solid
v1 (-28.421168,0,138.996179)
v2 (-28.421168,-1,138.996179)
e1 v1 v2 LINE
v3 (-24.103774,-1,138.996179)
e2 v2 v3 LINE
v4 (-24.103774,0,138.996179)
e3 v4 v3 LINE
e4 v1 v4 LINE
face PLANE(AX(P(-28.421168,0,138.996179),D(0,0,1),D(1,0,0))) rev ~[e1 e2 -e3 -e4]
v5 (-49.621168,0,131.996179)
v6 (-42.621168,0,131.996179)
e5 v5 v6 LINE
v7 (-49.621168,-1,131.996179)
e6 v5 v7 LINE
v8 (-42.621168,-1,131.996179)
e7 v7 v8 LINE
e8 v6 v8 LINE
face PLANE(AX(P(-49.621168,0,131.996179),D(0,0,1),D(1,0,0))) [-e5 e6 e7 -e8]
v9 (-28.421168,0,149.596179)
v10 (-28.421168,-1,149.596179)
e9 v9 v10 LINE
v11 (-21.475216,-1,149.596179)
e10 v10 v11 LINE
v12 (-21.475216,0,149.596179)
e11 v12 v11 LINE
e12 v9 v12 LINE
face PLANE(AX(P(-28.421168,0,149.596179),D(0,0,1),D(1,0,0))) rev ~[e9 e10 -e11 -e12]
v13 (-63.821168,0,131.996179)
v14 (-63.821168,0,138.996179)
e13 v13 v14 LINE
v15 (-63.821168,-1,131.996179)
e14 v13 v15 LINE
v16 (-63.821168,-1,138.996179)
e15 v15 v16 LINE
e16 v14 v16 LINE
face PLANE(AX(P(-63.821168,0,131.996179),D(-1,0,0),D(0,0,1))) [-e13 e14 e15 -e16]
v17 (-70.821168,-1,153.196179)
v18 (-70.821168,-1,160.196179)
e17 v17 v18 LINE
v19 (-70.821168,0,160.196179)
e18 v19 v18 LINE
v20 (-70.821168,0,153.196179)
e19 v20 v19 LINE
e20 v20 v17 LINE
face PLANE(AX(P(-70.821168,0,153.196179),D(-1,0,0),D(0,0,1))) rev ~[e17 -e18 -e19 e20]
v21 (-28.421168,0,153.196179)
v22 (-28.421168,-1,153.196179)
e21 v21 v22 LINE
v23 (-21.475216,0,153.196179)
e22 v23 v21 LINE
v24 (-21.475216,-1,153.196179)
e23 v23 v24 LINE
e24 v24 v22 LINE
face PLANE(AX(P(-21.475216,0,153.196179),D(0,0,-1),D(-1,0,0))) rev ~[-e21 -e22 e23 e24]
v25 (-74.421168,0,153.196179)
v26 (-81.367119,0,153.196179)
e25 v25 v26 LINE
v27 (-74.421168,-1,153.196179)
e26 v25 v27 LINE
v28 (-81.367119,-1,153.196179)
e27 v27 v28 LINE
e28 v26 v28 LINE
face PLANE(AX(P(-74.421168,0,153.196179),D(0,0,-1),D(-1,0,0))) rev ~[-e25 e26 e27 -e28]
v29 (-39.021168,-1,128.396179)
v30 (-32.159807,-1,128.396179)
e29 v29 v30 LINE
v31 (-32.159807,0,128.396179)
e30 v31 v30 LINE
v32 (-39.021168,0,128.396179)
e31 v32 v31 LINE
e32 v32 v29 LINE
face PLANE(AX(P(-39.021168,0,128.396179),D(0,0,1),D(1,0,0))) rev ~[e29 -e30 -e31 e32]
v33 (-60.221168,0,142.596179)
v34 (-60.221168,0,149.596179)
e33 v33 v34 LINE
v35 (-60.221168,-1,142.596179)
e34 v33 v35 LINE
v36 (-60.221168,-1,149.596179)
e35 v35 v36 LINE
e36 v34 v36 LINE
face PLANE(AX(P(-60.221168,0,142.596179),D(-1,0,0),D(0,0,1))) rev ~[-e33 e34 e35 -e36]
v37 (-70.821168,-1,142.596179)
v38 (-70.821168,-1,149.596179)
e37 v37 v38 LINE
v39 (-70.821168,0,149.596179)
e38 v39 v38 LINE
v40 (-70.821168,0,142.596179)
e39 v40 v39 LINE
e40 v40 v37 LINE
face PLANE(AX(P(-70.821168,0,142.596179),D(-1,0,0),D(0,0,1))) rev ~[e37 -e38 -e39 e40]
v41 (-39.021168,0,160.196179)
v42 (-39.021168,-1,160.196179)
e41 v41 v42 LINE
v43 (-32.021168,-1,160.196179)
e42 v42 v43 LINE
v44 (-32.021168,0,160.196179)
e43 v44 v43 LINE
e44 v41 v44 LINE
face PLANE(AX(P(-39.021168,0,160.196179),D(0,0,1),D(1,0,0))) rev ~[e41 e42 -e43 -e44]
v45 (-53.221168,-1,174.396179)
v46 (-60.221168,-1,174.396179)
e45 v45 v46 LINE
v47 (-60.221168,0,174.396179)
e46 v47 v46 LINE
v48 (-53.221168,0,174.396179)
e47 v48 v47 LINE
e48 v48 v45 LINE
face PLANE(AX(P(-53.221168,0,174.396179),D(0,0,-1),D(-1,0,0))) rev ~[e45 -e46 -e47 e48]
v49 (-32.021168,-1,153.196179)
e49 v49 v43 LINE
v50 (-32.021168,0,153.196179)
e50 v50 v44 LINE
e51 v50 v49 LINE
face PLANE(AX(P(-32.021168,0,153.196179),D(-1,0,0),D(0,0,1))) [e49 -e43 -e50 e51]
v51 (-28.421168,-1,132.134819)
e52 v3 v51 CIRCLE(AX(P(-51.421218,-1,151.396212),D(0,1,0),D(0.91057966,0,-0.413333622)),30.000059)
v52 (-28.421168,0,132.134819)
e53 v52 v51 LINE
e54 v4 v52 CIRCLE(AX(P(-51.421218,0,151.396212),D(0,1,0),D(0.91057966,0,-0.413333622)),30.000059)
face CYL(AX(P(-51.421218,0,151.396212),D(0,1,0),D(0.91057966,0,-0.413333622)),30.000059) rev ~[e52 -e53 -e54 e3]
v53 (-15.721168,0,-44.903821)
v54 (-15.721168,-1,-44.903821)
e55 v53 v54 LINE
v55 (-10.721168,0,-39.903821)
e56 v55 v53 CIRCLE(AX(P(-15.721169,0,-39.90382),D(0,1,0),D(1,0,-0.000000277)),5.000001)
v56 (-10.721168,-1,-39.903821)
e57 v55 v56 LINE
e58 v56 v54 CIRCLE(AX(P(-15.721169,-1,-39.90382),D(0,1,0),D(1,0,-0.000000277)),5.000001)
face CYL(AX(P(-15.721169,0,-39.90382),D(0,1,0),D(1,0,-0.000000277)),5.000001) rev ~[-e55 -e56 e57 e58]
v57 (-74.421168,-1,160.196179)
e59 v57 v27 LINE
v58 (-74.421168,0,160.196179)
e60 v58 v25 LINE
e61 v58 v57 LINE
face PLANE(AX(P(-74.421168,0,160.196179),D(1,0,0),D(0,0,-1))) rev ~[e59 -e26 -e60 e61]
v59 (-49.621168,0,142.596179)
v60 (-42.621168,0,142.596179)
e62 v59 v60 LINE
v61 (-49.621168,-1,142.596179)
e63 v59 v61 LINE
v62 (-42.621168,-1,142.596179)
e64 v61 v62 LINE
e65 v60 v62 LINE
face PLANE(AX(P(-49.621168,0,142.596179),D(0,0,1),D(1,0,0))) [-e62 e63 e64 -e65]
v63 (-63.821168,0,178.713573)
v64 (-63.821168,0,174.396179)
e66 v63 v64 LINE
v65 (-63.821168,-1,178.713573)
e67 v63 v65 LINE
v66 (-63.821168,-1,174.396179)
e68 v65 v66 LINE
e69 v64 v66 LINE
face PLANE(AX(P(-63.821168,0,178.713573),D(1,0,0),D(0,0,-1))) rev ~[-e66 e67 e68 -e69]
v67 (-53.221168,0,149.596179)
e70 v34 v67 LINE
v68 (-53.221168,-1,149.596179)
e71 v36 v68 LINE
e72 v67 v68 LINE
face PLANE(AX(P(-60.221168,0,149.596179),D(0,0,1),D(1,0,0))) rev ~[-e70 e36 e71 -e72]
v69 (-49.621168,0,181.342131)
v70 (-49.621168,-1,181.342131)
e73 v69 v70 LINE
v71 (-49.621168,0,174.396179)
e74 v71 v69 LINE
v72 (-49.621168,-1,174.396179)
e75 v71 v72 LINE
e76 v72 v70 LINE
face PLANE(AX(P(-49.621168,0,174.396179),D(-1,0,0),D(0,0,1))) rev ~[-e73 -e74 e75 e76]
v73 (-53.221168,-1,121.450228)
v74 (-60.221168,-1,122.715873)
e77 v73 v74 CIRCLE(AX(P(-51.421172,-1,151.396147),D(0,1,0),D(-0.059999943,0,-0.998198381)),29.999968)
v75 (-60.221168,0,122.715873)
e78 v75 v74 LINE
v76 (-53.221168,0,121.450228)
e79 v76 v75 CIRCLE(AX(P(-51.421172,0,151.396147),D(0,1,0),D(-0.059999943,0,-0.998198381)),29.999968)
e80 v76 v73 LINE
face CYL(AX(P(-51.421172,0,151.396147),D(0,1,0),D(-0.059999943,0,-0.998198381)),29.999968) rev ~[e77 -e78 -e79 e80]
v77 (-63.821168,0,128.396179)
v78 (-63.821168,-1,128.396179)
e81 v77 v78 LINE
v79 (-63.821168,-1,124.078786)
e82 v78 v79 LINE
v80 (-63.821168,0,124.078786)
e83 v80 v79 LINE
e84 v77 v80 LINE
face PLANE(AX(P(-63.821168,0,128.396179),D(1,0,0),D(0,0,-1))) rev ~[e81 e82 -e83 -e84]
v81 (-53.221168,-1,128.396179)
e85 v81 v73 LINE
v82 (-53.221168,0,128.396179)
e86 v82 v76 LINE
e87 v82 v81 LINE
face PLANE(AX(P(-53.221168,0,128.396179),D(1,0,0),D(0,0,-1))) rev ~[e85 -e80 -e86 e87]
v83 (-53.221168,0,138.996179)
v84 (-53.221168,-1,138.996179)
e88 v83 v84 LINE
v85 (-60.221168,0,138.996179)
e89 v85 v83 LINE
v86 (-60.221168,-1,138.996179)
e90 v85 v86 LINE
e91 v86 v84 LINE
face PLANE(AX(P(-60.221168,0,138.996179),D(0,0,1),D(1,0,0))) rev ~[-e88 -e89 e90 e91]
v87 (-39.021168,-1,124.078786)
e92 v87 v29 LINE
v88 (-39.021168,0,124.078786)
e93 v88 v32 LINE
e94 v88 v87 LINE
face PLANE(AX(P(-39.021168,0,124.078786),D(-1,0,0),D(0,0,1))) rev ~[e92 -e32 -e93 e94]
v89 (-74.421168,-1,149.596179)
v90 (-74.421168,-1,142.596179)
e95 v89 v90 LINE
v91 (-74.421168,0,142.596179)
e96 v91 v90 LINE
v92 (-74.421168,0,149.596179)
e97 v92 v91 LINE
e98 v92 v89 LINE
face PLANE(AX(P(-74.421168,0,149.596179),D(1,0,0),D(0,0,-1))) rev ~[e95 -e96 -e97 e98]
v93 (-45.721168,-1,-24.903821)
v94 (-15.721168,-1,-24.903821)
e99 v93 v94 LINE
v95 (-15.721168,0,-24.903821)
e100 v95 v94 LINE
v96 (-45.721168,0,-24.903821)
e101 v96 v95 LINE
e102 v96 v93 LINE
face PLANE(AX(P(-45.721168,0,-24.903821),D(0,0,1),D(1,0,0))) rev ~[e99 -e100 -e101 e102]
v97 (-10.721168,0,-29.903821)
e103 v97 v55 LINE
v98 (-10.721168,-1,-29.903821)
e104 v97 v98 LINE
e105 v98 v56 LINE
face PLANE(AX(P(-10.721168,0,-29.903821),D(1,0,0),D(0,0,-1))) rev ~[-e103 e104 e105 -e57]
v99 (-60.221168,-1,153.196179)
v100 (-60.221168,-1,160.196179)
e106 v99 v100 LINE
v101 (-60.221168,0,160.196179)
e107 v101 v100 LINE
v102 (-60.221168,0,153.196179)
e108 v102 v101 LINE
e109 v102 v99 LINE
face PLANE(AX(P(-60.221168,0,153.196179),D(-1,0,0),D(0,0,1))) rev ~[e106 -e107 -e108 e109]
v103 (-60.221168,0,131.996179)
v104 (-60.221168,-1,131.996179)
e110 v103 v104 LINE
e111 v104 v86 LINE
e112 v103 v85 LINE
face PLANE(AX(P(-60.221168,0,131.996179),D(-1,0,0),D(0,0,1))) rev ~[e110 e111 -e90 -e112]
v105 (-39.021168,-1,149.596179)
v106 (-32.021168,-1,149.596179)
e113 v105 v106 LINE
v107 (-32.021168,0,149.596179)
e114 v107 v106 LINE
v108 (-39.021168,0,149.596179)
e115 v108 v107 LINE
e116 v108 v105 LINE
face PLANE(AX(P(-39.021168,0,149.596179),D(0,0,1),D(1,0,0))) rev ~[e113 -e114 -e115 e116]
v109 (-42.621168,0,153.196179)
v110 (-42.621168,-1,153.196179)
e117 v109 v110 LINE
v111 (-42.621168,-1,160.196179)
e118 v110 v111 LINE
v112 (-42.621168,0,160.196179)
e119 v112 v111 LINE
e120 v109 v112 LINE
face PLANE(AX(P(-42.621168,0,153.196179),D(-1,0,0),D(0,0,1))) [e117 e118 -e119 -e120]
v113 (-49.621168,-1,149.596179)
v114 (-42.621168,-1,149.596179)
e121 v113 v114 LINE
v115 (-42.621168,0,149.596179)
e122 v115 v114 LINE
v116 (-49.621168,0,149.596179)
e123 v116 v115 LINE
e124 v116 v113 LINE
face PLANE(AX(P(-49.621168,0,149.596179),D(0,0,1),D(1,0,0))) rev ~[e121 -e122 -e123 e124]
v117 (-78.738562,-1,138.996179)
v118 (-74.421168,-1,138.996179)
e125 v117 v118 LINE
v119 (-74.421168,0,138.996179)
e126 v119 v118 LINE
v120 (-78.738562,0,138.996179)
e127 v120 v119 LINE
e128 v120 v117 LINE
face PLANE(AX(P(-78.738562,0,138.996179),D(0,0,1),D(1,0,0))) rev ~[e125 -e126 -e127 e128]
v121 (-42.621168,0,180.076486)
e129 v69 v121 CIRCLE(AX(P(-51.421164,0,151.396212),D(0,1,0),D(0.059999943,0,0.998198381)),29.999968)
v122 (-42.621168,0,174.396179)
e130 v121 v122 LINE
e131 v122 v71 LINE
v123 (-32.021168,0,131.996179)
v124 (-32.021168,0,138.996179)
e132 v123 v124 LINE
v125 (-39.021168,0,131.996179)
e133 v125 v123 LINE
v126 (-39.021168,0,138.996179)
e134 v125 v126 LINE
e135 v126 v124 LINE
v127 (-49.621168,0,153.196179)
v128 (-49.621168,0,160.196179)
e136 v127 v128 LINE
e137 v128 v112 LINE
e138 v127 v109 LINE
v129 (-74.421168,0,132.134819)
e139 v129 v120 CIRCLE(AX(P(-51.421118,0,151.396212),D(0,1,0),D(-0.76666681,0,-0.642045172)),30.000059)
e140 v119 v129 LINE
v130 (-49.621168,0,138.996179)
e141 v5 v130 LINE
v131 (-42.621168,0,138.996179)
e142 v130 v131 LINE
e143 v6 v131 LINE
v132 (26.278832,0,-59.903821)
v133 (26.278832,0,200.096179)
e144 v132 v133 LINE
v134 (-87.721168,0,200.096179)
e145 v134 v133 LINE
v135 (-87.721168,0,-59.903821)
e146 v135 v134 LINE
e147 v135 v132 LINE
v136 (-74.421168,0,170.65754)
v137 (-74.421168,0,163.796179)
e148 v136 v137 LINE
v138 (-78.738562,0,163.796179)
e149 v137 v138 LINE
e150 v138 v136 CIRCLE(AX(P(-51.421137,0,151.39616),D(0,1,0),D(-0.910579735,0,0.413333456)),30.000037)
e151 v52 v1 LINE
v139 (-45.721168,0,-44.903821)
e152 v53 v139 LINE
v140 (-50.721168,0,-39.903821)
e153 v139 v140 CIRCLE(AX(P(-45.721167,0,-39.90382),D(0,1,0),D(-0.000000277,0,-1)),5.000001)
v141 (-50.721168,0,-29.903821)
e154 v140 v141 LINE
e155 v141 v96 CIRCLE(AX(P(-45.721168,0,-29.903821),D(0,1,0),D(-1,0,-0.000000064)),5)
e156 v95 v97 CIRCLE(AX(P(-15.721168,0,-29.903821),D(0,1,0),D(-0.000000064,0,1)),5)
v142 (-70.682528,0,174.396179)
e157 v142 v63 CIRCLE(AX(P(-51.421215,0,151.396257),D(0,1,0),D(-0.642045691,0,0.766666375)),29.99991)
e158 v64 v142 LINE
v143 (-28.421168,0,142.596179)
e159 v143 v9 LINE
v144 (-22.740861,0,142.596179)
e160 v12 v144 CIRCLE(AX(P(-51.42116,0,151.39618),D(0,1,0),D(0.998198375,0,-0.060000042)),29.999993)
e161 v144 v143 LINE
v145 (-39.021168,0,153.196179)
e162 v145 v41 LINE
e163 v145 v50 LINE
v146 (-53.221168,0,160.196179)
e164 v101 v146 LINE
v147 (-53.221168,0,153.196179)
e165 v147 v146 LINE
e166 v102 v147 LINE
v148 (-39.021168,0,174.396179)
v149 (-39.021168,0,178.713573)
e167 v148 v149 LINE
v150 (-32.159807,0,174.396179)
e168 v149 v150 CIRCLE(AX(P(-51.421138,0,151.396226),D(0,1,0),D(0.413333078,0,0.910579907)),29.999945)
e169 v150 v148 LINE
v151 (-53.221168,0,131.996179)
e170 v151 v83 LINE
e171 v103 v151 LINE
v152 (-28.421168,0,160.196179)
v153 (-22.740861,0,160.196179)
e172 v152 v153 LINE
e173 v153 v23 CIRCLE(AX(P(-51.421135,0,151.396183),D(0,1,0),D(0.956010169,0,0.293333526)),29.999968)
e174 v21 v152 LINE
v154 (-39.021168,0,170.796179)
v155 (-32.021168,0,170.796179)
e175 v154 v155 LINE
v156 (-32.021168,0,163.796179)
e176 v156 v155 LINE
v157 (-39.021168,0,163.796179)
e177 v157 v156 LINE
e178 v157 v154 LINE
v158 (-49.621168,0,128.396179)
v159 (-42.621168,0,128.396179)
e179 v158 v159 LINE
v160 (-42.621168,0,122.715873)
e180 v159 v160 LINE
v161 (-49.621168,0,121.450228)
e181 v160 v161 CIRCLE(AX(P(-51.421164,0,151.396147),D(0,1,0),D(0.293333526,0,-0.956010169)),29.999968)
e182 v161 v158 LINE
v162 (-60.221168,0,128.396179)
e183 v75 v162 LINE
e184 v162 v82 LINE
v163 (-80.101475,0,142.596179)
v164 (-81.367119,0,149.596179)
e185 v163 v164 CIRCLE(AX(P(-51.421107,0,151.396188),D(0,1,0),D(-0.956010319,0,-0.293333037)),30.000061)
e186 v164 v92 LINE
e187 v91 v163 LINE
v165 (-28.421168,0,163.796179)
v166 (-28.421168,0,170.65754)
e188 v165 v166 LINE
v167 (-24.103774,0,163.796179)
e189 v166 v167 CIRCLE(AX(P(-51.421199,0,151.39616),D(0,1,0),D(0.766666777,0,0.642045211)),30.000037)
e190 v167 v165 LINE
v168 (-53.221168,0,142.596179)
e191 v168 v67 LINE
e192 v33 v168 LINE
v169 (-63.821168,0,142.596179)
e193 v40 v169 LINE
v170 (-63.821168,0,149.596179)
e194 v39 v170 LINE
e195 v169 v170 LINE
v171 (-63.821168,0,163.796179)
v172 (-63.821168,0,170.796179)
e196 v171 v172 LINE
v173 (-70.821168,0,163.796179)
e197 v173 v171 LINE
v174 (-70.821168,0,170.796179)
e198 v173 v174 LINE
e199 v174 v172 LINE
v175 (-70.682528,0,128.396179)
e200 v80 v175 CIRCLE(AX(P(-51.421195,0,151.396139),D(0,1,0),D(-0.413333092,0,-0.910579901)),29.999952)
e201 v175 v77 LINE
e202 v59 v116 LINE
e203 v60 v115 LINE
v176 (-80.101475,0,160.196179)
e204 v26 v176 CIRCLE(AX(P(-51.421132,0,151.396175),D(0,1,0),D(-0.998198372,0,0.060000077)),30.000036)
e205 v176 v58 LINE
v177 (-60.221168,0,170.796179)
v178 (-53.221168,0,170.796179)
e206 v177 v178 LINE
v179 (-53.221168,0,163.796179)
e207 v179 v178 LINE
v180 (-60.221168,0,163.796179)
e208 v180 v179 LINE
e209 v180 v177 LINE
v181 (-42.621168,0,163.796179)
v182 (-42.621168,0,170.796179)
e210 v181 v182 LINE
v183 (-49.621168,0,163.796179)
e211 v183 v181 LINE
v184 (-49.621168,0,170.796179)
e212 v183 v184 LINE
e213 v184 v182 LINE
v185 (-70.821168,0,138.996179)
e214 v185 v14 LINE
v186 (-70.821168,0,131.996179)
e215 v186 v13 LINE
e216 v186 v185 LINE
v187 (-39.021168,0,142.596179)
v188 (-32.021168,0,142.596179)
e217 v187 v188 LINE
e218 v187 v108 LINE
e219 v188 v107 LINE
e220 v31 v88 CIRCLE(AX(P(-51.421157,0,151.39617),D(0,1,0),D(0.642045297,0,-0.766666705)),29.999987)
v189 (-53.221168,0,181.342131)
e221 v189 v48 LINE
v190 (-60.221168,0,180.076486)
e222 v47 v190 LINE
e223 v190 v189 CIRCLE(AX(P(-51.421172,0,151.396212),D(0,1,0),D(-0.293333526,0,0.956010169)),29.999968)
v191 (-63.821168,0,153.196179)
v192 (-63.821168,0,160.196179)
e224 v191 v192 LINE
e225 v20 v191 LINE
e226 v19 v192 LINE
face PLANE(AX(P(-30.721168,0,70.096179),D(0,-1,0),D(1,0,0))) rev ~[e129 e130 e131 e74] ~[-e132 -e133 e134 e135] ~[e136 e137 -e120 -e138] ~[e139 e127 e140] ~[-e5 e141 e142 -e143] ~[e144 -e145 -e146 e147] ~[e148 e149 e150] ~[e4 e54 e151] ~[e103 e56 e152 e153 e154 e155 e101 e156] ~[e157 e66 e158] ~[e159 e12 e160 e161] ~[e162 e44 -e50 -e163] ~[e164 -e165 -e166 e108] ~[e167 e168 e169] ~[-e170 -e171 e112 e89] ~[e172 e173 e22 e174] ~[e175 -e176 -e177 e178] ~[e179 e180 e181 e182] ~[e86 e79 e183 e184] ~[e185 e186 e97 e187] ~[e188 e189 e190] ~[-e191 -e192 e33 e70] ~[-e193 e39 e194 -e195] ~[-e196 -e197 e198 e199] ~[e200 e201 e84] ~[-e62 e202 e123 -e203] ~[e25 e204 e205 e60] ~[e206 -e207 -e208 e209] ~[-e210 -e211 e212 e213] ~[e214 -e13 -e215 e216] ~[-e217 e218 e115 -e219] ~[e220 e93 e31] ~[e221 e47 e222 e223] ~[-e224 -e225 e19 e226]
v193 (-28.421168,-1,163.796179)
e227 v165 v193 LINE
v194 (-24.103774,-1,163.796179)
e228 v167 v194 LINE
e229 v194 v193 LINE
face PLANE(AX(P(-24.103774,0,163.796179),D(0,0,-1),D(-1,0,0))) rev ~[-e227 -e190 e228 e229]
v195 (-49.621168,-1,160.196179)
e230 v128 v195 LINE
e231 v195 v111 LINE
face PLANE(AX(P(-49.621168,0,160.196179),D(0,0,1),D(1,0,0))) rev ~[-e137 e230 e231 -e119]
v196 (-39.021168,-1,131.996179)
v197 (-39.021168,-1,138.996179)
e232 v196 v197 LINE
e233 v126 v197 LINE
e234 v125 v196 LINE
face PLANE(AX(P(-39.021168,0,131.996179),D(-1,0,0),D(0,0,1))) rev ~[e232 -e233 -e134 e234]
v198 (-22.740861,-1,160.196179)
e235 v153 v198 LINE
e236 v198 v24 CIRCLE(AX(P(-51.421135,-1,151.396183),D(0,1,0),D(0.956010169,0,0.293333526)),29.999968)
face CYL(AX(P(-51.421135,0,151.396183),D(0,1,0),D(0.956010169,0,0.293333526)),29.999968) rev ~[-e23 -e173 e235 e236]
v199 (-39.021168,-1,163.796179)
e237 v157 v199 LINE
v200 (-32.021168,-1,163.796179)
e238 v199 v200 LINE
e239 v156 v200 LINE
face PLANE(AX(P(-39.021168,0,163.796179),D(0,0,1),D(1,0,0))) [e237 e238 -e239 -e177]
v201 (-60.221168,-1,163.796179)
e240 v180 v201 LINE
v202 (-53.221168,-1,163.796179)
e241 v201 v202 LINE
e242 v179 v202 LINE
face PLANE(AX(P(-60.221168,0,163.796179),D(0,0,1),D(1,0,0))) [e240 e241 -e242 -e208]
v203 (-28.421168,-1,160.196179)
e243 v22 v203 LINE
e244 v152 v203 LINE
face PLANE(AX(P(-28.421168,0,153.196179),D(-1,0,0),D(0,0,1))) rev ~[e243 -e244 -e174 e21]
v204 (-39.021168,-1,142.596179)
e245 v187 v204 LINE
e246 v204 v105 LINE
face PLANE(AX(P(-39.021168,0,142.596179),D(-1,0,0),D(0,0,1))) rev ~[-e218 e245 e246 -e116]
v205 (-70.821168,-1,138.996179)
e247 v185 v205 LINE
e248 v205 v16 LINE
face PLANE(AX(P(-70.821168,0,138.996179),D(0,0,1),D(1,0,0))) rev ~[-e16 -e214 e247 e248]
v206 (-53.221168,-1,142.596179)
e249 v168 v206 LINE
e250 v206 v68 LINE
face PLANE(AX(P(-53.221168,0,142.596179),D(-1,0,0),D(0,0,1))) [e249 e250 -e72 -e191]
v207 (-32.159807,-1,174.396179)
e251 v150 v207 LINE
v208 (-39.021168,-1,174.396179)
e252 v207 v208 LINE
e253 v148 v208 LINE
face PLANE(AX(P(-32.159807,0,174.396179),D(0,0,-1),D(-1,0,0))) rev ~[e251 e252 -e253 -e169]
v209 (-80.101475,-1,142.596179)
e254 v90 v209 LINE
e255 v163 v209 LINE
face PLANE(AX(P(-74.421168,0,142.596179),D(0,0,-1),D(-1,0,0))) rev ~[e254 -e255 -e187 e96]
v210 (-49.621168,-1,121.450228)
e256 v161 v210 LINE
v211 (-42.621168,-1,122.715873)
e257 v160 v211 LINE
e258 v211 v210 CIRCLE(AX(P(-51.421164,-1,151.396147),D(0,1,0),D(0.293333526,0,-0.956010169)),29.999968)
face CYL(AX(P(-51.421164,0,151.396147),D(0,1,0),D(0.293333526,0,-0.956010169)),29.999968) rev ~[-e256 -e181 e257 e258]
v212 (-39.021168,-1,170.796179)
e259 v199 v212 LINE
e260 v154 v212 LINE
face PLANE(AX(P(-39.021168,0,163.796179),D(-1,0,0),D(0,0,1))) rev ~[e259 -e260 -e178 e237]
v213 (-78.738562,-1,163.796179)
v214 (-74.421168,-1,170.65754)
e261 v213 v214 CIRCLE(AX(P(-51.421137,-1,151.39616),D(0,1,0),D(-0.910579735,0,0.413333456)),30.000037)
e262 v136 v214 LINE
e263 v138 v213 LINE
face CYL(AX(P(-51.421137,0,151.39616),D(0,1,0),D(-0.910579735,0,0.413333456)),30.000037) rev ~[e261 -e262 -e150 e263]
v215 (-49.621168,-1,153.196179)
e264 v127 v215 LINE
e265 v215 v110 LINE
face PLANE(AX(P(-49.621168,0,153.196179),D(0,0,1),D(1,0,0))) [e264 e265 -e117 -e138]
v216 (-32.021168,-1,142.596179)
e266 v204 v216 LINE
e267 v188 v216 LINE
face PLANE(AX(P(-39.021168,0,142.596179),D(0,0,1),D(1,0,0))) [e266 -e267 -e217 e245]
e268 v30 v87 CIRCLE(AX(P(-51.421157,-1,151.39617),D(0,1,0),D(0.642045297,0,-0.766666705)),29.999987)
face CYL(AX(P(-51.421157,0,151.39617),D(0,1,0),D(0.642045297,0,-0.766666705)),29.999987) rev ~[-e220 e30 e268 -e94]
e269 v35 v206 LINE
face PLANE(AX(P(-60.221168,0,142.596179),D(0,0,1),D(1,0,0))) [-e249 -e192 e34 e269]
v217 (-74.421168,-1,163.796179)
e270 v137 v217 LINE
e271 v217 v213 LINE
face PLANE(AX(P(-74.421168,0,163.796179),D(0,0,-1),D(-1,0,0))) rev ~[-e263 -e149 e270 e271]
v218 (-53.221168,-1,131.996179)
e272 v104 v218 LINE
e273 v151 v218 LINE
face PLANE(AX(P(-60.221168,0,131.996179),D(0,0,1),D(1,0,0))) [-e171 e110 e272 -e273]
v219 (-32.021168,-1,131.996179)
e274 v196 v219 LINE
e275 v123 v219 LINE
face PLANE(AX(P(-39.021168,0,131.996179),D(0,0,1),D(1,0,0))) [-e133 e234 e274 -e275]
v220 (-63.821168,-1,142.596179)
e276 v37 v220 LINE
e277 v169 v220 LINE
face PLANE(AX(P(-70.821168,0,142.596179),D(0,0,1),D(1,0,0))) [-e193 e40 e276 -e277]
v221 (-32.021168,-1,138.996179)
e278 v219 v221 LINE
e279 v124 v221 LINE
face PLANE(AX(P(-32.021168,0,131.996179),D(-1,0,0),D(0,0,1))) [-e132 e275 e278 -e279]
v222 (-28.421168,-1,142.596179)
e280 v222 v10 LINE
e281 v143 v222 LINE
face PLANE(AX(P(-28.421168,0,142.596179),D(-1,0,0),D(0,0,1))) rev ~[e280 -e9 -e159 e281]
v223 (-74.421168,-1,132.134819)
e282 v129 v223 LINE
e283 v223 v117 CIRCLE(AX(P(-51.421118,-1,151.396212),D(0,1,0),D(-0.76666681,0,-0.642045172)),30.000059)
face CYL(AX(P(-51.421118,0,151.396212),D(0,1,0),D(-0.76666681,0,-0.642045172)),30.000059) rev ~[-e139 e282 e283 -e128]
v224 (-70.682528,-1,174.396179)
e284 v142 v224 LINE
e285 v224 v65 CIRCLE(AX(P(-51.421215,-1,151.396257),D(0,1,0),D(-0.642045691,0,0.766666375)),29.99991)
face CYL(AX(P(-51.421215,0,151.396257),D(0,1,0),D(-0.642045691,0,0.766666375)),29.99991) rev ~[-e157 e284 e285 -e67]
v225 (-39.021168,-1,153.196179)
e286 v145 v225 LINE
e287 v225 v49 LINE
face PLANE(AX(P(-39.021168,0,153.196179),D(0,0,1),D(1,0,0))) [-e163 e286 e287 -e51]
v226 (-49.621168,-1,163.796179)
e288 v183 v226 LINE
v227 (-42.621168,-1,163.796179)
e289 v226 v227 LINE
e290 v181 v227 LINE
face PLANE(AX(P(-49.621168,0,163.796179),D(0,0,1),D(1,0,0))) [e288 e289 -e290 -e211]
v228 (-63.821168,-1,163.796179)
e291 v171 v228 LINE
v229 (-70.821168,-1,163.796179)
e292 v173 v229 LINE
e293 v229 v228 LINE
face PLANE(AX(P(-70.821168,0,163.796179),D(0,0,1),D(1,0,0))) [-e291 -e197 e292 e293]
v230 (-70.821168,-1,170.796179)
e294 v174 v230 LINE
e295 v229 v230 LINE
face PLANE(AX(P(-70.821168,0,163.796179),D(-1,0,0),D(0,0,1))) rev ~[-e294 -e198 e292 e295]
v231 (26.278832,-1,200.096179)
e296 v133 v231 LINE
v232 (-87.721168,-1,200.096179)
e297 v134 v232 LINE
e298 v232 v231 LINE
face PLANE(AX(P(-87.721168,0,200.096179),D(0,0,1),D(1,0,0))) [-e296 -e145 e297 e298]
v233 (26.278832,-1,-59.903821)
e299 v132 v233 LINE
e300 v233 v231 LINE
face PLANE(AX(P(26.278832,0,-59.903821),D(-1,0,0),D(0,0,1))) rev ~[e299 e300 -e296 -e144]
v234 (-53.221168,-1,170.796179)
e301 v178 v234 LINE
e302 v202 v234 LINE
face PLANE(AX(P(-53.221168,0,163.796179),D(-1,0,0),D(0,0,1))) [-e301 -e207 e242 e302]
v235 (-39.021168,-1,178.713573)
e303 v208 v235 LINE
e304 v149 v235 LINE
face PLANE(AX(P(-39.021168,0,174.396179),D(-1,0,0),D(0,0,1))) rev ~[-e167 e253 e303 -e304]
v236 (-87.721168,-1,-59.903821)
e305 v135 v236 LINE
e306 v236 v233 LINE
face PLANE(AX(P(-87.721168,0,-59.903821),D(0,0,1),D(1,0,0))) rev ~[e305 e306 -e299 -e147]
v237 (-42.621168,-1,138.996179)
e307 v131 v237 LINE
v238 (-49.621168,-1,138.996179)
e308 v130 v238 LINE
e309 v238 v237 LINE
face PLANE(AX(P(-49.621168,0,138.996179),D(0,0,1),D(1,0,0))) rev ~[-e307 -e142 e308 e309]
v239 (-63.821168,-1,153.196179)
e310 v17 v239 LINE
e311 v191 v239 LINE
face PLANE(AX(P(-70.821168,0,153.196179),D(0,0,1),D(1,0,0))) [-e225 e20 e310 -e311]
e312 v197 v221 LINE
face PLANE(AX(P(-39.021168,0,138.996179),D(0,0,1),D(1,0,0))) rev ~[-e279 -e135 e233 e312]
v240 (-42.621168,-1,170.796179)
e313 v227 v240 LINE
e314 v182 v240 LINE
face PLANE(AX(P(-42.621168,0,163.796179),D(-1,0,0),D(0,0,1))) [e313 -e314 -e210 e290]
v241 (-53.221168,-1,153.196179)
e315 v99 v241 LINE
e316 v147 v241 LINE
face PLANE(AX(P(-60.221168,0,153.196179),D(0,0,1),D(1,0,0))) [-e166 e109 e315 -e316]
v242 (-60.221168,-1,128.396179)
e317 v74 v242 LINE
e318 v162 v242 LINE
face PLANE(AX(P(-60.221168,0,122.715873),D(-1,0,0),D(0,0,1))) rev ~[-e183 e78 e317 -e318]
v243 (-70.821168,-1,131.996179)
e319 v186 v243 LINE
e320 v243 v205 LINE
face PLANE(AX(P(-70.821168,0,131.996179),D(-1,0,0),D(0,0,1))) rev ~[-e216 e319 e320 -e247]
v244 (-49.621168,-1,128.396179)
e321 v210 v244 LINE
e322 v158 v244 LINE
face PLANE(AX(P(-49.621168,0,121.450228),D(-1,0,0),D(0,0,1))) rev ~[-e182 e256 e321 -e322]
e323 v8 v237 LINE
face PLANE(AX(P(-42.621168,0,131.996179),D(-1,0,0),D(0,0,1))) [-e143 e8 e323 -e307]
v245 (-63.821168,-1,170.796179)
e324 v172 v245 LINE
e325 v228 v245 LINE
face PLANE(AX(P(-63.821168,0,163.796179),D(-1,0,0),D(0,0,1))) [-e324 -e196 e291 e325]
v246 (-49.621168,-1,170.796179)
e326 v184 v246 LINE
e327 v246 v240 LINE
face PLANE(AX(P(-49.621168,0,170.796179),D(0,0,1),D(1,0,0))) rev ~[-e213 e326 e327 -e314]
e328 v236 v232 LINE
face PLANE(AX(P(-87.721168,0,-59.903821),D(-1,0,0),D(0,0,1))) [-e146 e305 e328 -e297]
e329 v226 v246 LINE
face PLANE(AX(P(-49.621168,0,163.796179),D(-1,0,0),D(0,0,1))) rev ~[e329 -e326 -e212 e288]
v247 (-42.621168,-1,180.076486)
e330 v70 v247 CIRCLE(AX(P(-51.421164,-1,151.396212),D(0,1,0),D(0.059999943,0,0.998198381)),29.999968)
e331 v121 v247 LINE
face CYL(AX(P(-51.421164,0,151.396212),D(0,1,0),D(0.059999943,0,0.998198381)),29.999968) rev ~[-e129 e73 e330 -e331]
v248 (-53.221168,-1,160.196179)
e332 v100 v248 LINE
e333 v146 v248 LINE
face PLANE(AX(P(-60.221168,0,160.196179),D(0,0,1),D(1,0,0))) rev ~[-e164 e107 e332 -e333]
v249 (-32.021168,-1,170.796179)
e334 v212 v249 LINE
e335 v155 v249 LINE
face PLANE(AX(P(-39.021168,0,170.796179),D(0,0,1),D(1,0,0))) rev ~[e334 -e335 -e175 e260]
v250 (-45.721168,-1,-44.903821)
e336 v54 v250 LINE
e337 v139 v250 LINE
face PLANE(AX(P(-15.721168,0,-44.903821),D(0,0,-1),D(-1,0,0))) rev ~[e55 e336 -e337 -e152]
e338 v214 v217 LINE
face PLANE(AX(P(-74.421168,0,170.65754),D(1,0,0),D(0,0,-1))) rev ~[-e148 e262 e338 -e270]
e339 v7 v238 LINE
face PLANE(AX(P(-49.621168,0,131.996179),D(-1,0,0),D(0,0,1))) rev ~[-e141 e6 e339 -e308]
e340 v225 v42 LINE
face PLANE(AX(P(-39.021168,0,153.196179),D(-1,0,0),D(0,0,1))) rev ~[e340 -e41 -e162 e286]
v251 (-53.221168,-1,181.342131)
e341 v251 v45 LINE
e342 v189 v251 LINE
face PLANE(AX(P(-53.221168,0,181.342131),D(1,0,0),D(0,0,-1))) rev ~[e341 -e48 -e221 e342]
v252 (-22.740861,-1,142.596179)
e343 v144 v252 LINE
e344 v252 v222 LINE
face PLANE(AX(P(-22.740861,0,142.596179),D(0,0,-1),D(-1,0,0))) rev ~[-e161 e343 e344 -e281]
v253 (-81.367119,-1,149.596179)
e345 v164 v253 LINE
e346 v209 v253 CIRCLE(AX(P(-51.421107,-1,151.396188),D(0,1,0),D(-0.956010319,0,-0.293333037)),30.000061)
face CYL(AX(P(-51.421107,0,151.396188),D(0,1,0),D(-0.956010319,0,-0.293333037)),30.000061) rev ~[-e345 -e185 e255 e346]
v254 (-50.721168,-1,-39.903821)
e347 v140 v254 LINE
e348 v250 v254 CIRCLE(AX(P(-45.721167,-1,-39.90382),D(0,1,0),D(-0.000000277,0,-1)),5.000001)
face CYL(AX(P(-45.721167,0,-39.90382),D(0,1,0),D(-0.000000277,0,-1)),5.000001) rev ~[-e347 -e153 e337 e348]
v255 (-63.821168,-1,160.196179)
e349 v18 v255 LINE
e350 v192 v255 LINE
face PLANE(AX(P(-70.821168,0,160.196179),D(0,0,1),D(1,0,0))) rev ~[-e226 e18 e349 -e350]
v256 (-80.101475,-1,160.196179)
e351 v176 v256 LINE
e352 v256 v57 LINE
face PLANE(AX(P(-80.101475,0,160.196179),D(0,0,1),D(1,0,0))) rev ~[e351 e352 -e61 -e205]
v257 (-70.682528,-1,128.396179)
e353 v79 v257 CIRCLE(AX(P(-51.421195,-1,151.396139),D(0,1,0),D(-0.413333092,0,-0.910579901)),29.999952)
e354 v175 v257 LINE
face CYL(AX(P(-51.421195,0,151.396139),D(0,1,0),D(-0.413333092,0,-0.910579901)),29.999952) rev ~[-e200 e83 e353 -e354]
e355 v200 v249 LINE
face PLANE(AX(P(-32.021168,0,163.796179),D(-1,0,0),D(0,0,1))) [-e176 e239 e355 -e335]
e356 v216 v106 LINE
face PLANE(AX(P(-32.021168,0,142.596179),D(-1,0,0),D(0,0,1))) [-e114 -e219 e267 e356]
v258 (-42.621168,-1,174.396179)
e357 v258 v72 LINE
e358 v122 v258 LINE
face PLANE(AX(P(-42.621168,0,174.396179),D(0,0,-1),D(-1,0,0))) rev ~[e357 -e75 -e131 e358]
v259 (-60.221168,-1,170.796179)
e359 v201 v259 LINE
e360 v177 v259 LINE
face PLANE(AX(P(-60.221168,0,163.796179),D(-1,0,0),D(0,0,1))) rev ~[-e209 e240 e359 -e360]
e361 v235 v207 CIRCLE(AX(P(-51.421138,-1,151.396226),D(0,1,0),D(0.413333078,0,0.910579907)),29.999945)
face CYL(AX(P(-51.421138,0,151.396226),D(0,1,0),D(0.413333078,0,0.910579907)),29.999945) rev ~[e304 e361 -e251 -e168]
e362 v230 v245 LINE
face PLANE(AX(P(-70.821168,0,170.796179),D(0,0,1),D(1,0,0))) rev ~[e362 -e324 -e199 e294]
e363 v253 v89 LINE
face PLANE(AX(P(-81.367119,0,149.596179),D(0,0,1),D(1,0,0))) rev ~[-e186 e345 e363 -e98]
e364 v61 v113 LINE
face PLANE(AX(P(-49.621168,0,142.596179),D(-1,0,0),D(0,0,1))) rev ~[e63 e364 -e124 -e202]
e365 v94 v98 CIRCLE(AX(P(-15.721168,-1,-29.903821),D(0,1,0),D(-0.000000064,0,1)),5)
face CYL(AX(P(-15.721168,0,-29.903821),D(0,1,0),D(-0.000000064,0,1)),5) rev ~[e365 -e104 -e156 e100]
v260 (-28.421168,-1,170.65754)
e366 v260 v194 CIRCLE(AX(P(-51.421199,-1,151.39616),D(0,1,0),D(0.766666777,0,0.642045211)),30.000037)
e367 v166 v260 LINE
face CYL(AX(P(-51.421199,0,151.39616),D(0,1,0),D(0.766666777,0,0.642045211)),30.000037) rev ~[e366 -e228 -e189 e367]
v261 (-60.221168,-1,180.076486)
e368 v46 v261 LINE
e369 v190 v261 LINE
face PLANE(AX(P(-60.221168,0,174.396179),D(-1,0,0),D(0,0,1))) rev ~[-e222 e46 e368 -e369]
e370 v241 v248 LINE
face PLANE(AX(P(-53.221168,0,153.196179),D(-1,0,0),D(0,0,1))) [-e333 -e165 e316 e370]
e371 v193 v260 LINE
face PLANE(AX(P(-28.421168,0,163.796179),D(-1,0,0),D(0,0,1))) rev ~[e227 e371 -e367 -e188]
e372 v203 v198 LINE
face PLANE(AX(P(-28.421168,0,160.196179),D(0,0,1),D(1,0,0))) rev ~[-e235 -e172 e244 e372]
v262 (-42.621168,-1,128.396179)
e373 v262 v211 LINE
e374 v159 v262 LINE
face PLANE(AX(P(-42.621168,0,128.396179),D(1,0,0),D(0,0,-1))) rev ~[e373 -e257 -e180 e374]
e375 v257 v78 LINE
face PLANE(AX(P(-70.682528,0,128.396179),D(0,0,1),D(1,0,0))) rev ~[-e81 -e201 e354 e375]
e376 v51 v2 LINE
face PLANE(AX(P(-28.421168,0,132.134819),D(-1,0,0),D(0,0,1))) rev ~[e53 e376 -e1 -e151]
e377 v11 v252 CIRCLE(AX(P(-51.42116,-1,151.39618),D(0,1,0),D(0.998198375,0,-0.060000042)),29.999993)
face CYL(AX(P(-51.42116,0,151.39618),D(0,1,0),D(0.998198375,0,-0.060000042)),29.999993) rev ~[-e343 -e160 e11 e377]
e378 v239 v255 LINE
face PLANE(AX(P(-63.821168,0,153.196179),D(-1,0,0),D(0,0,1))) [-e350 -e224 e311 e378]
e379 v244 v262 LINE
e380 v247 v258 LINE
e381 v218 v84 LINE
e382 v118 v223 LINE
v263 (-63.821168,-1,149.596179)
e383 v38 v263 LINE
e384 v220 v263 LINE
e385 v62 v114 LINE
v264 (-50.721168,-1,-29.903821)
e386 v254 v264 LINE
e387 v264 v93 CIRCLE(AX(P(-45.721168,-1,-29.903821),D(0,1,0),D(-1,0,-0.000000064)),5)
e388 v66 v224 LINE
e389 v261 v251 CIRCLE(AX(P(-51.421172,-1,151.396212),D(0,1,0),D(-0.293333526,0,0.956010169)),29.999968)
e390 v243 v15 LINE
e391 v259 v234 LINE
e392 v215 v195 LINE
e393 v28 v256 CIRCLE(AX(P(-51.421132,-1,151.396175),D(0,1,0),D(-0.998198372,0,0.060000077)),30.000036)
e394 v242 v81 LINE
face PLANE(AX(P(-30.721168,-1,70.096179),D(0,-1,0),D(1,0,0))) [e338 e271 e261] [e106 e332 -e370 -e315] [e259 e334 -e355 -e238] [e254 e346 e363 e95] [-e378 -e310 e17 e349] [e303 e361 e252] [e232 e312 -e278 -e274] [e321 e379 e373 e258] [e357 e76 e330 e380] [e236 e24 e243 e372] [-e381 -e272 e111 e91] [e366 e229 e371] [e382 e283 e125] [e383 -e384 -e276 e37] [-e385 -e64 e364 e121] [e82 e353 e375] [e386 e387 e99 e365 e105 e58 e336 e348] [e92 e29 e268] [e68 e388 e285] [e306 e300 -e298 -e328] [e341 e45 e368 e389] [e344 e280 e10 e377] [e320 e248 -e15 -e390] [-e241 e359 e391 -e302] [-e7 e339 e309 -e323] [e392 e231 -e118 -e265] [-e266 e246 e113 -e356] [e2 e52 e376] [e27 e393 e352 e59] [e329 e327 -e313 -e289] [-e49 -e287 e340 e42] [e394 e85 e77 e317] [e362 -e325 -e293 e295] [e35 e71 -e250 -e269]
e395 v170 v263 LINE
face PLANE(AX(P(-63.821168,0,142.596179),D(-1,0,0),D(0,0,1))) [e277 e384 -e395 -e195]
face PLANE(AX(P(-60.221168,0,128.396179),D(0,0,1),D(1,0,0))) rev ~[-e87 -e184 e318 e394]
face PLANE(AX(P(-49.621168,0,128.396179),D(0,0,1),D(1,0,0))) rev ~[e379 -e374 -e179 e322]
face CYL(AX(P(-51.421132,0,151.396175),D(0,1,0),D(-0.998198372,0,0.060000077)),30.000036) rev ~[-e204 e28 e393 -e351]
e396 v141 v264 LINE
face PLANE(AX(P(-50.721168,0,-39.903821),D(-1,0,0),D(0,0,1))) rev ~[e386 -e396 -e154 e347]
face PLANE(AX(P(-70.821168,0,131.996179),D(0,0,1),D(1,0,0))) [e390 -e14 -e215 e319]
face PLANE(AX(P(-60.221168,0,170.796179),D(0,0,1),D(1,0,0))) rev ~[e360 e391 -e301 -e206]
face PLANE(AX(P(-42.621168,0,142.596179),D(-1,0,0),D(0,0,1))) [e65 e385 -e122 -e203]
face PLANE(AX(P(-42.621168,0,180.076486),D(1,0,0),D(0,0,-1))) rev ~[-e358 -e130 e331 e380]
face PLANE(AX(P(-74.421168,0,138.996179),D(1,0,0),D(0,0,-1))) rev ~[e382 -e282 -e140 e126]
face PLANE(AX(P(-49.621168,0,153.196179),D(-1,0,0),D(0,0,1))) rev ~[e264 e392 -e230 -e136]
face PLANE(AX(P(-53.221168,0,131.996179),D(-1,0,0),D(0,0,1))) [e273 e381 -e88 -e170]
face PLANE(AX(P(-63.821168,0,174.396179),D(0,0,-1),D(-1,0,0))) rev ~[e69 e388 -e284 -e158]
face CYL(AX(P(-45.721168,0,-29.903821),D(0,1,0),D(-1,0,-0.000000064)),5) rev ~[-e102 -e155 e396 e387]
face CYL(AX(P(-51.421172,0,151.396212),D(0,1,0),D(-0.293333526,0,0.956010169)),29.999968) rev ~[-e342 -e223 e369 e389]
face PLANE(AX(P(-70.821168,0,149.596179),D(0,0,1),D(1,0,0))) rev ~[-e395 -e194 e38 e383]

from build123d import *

# Parameters (mm, degrees)
F0_W     = 114
F0_H     = 260
F0_W_2   = 7
F0_H_2   = 7
F1_DEPTH = 1


with BuildPart() as f1:
    # F0 (on Front) → F1 (new body)
    with BuildSketch(Plane.XZ):
        with Locations((-30.721168, 70.096179)):
            Rectangle(F0_W, F0_H)
        with BuildLine():
            ThreePointArc((-50.721168, -29.903821), (-49.256702, -26.368287), (-45.721168, -24.903821))
            Line((-45.721168, -24.903821), (-15.721168, -24.903821))
            ThreePointArc((-15.721168, -24.903821), (-12.185634, -26.368287), (-10.721168, -29.903821))
            Line((-10.721168, -29.903821), (-10.721168, -39.903821))
            ThreePointArc((-10.721168, -39.903821), (-12.185634, -43.439354), (-15.721168, -44.903821))
            Line((-15.721168, -44.903821), (-45.721168, -44.903821))
            ThreePointArc((-45.721168, -44.903821), (-49.256702, -43.439354), (-50.721168, -39.903821))
            Line((-50.721168, -39.903821), (-50.721168, -29.903821))
        make_face(mode=Mode.SUBTRACT)
        with Locations((-77.921168, 114.296179)):
            Rectangle(F0_W_2, F0_H_2, mode=Mode.SUBTRACT)
        with Locations((-77.921168, 124.896179)):
            Rectangle(F0_W_2, F0_H_2, mode=Mode.SUBTRACT)
        with Locations((-67.321168, 114.296179)):
            Rectangle(F0_W_2, F0_H_2, mode=Mode.SUBTRACT)
        with Locations((-56.721168, 114.296179)):
            Rectangle(F0_W_2, F0_H_2, mode=Mode.SUBTRACT)
        with Locations((-46.121168, 114.296179)):
            Rectangle(F0_W_2, F0_H_2, mode=Mode.SUBTRACT)
        with Locations((-35.521168, 114.296179)):
            Rectangle(F0_W_2, F0_H_2, mode=Mode.SUBTRACT)
        with Locations((-77.921168, 177.896179)):
            Rectangle(F0_W_2, F0_H_2, mode=Mode.SUBTRACT)
        with BuildLine():
            ThreePointArc((-21.475216, 153.196179), (-21.434683, 152.296585), (-21.421168, 151.396179))
            ThreePointArc((-21.421168, 151.396179), (-21.434683, 150.495774), (-21.475216, 149.596179))
            Line((-21.475216, 149.596179), (-21.421168, 149.596179))
            Line((-21.421168, 149.596179), (-21.421168, 142.596179))
            Line((-21.421168, 142.596179), (-22.740861, 142.596179))
            ThreePointArc((-22.740861, 142.596179), (-23.364518, 140.774297), (-24.103774, 138.996179))
            Line((-24.103774, 138.996179), (-21.421168, 138.996179))
            Line((-21.421168, 138.996179), (-21.421168, 131.996179))
            Line((-21.421168, 131.996179), (-28.421168, 131.996179))
            Line((-28.421168, 131.996179), (-28.421168, 132.134819))
            ThreePointArc((-28.421168, 132.134819), (-30.207964, 130.182976), (-32.159807, 128.396179))
            Line((-32.159807, 128.396179), (-32.021168, 128.396179))
            Line((-32.021168, 128.396179), (-32.021168, 121.396179))
            Line((-32.021168, 121.396179), (-39.021168, 121.396179))
            Line((-39.021168, 121.396179), (-39.021168, 124.078786))
            ThreePointArc((-39.021168, 124.078786), (-40.799286, 123.339529), (-42.621168, 122.715873))
            Line((-42.621168, 122.715873), (-42.621168, 121.396179))
            Line((-42.621168, 121.396179), (-49.621168, 121.396179))
            Line((-49.621168, 121.396179), (-49.621168, 121.450228))
            ThreePointArc((-49.621168, 121.450228), (-51.421168, 121.396179), (-53.221168, 121.450228))
            Line((-53.221168, 121.450228), (-53.221168, 121.396179))
            Line((-53.221168, 121.396179), (-60.221168, 121.396179))
            Line((-60.221168, 121.396179), (-60.221168, 122.715873))
            ThreePointArc((-60.221168, 122.715873), (-62.04305, 123.339529), (-63.821168, 124.078786))
            Line((-63.821168, 124.078786), (-63.821168, 121.396179))
            Line((-63.821168, 121.396179), (-70.821168, 121.396179))
            Line((-70.821168, 121.396179), (-70.821168, 128.396179))
            Line((-70.821168, 128.396179), (-70.682528, 128.396179))
            ThreePointArc((-70.682528, 128.396179), (-72.634371, 130.182976), (-74.421168, 132.134819))
            Line((-74.421168, 132.134819), (-74.421168, 131.996179))
            Line((-74.421168, 131.996179), (-81.421168, 131.996179))
            Line((-81.421168, 131.996179), (-81.421168, 138.996179))
            Line((-81.421168, 138.996179), (-78.738562, 138.996179))
            ThreePointArc((-78.738562, 138.996179), (-79.477818, 140.774297), (-80.101475, 142.596179))
            Line((-80.101475, 142.596179), (-81.421168, 142.596179))
            Line((-81.421168, 142.596179), (-81.421168, 149.596179))
            Line((-81.421168, 149.596179), (-81.367119, 149.596179))
            ThreePointArc((-81.367119, 149.596179), (-81.421168, 151.396179), (-81.367119, 153.196179))
            Line((-81.367119, 153.196179), (-81.421168, 153.196179))
            Line((-81.421168, 153.196179), (-81.421168, 160.196179))
            Line((-81.421168, 160.196179), (-80.101475, 160.196179))
            ThreePointArc((-80.101475, 160.196179), (-79.477818, 162.018062), (-78.738562, 163.796179))
            Line((-78.738562, 163.796179), (-81.421168, 163.796179))
            Line((-81.421168, 163.796179), (-81.421168, 170.796179))
            Line((-81.421168, 170.796179), (-74.421168, 170.796179))
            Line((-74.421168, 170.796179), (-74.421168, 170.65754))
            ThreePointArc((-74.421168, 170.65754), (-72.634371, 172.609383), (-70.682528, 174.396179))
            Line((-70.682528, 174.396179), (-70.821168, 174.396179))
            Line((-70.821168, 174.396179), (-70.821168, 181.396179))
            Line((-70.821168, 181.396179), (-63.821168, 181.396179))
            Line((-63.821168, 181.396179), (-63.821168, 178.713573))
            ThreePointArc((-63.821168, 178.713573), (-62.04305, 179.45283), (-60.221168, 180.076486))
            Line((-60.221168, 180.076486), (-60.221168, 181.396179))
            Line((-60.221168, 181.396179), (-53.221168, 181.396179))
            Line((-53.221168, 181.396179), (-53.221168, 181.342131))
            ThreePointArc((-53.221168, 181.342131), (-51.421168, 181.396179), (-49.621168, 181.342131))
            Line((-49.621168, 181.342131), (-49.621168, 181.396179))
            Line((-49.621168, 181.396179), (-42.621168, 181.396179))
            Line((-42.621168, 181.396179), (-42.621168, 180.076486))
            ThreePointArc((-42.621168, 180.076486), (-40.799286, 179.45283), (-39.021168, 178.713573))
            Line((-39.021168, 178.713573), (-39.021168, 181.396179))
            Line((-39.021168, 181.396179), (-32.021168, 181.396179))
            Line((-32.021168, 181.396179), (-32.021168, 174.396179))
            Line((-32.021168, 174.396179), (-32.159807, 174.396179))
            ThreePointArc((-32.159807, 174.396179), (-30.207964, 172.609383), (-28.421168, 170.65754))
            Line((-28.421168, 170.65754), (-28.421168, 170.796179))
            Line((-28.421168, 170.796179), (-21.421168, 170.796179))
            Line((-21.421168, 170.796179), (-21.421168, 163.796179))
            Line((-21.421168, 163.796179), (-24.103774, 163.796179))
            ThreePointArc((-24.103774, 163.796179), (-23.364518, 162.018062), (-22.740861, 160.196179))
            Line((-22.740861, 160.196179), (-21.421168, 160.196179))
            Line((-21.421168, 160.196179), (-21.421168, 153.196179))
            Line((-21.421168, 153.196179), (-21.475216, 153.196179))
        make_face(mode=Mode.SUBTRACT)
        with Locations((-24.921168, 114.296179)):
            Rectangle(F0_W_2, F0_H_2, mode=Mode.SUBTRACT)
        with Locations((-24.921168, 124.896179)):
            Rectangle(F0_W_2, F0_H_2, mode=Mode.SUBTRACT)
        with Locations((-14.321168, 114.296179)):
            Rectangle(F0_W_2, F0_H_2, mode=Mode.SUBTRACT)
        with Locations((-14.321168, 124.896179)):
            Rectangle(F0_W_2, F0_H_2, mode=Mode.SUBTRACT)
        with Locations((-14.321168, 135.496179)):
            Rectangle(F0_W_2, F0_H_2, mode=Mode.SUBTRACT)
        with Locations((-14.321168, 146.096179)):
            Rectangle(F0_W_2, F0_H_2, mode=Mode.SUBTRACT)
        with Locations((-14.321168, 156.696179)):
            Rectangle(F0_W_2, F0_H_2, mode=Mode.SUBTRACT)
        with Locations((-14.321168, 167.296179)):
            Rectangle(F0_W_2, F0_H_2, mode=Mode.SUBTRACT)
        with Locations((-24.921168, 177.896179)):
            Rectangle(F0_W_2, F0_H_2, mode=Mode.SUBTRACT)
        with Locations((-14.321168, 177.896179)):
            Rectangle(F0_W_2, F0_H_2, mode=Mode.SUBTRACT)
        with BuildLine():
            ThreePointArc((-21.475216, 149.596179), (-21.434683, 150.495774), (-21.421168, 151.396179))
            ThreePointArc((-21.421168, 151.396179), (-21.434683, 152.296585), (-21.475216, 153.196179))
            Line((-21.475216, 153.196179), (-28.421168, 153.196179))
            Line((-28.421168, 153.196179), (-28.421168, 160.196179))
            Line((-28.421168, 160.196179), (-22.740861, 160.196179))
            ThreePointArc((-22.740861, 160.196179), (-23.364518, 162.018062), (-24.103774, 163.796179))
            Line((-24.103774, 163.796179), (-28.421168, 163.796179))
            Line((-28.421168, 163.796179), (-28.421168, 170.65754))
            ThreePointArc((-28.421168, 170.65754), (-30.207964, 172.609383), (-32.159807, 174.396179))
            Line((-32.159807, 174.396179), (-39.021168, 174.396179))
            Line((-39.021168, 174.396179), (-39.021168, 178.713573))
            ThreePointArc((-39.021168, 178.713573), (-40.799286, 179.45283), (-42.621168, 180.076486))
            Line((-42.621168, 180.076486), (-42.621168, 174.396179))
            Line((-42.621168, 174.396179), (-49.621168, 174.396179))
            Line((-49.621168, 174.396179), (-49.621168, 181.342131))
            ThreePointArc((-49.621168, 181.342131), (-51.421168, 181.396179), (-53.221168, 181.342131))
            Line((-53.221168, 181.342131), (-53.221168, 174.396179))
            Line((-53.221168, 174.396179), (-60.221168, 174.396179))
            Line((-60.221168, 174.396179), (-60.221168, 180.076486))
            ThreePointArc((-60.221168, 180.076486), (-62.04305, 179.45283), (-63.821168, 178.713573))
            Line((-63.821168, 178.713573), (-63.821168, 174.396179))
            Line((-63.821168, 174.396179), (-70.682528, 174.396179))
            ThreePointArc((-70.682528, 174.396179), (-72.634371, 172.609383), (-74.421168, 170.65754))
            Line((-74.421168, 170.65754), (-74.421168, 163.796179))
            Line((-74.421168, 163.796179), (-78.738562, 163.796179))
            ThreePointArc((-78.738562, 163.796179), (-79.477818, 162.018062), (-80.101475, 160.196179))
            Line((-80.101475, 160.196179), (-74.421168, 160.196179))
            Line((-74.421168, 160.196179), (-74.421168, 153.196179))
            Line((-74.421168, 153.196179), (-81.367119, 153.196179))
            ThreePointArc((-81.367119, 153.196179), (-81.421168, 151.396179), (-81.367119, 149.596179))
            Line((-81.367119, 149.596179), (-74.421168, 149.596179))
            Line((-74.421168, 149.596179), (-74.421168, 142.596179))
            Line((-74.421168, 142.596179), (-80.101475, 142.596179))
            ThreePointArc((-80.101475, 142.596179), (-79.477818, 140.774297), (-78.738562, 138.996179))
            Line((-78.738562, 138.996179), (-74.421168, 138.996179))
            Line((-74.421168, 138.996179), (-74.421168, 132.134819))
            ThreePointArc((-74.421168, 132.134819), (-72.634371, 130.182976), (-70.682528, 128.396179))
            Line((-70.682528, 128.396179), (-63.821168, 128.396179))
            Line((-63.821168, 128.396179), (-63.821168, 124.078786))
            ThreePointArc((-63.821168, 124.078786), (-62.04305, 123.339529), (-60.221168, 122.715873))
            Line((-60.221168, 122.715873), (-60.221168, 128.396179))
            Line((-60.221168, 128.396179), (-53.221168, 128.396179))
            Line((-53.221168, 128.396179), (-53.221168, 121.450228))
            ThreePointArc((-53.221168, 121.450228), (-51.421168, 121.396179), (-49.621168, 121.450228))
            Line((-49.621168, 121.450228), (-49.621168, 128.396179))
            Line((-49.621168, 128.396179), (-42.621168, 128.396179))
            Line((-42.621168, 128.396179), (-42.621168, 122.715873))
            ThreePointArc((-42.621168, 122.715873), (-40.799286, 123.339529), (-39.021168, 124.078786))
            Line((-39.021168, 124.078786), (-39.021168, 128.396179))
            Line((-39.021168, 128.396179), (-32.159807, 128.396179))
            ThreePointArc((-32.159807, 128.396179), (-30.207964, 130.182976), (-28.421168, 132.134819))
            Line((-28.421168, 132.134819), (-28.421168, 138.996179))
            Line((-28.421168, 138.996179), (-24.103774, 138.996179))
            ThreePointArc((-24.103774, 138.996179), (-23.364518, 140.774297), (-22.740861, 142.596179))
            Line((-22.740861, 142.596179), (-28.421168, 142.596179))
            Line((-28.421168, 142.596179), (-28.421168, 149.596179))
            Line((-28.421168, 149.596179), (-21.475216, 149.596179))
        make_face()
        with Locations((-67.321168, 135.496179)):
            Rectangle(F0_W_2, F0_H_2, mode=Mode.SUBTRACT)
        with Locations((-67.321168, 146.096179)):
            Rectangle(F0_W_2, F0_H_2, mode=Mode.SUBTRACT)
        with Locations((-67.321168, 156.696179)):
            Rectangle(F0_W_2, F0_H_2, mode=Mode.SUBTRACT)
        with Locations((-67.321168, 167.296179)):
            Rectangle(F0_W_2, F0_H_2, mode=Mode.SUBTRACT)
        with Locations((-56.721168, 135.496179)):
            Rectangle(F0_W_2, F0_H_2, mode=Mode.SUBTRACT)
        with Locations((-56.721168, 146.096179)):
            Rectangle(F0_W_2, F0_H_2, mode=Mode.SUBTRACT)
        with Locations((-46.121168, 135.496179)):
            Rectangle(F0_W_2, F0_H_2, mode=Mode.SUBTRACT)
        with Locations((-46.121168, 146.096179)):
            Rectangle(F0_W_2, F0_H_2, mode=Mode.SUBTRACT)
        with Locations((-56.721168, 156.696179)):
            Rectangle(F0_W_2, F0_H_2, mode=Mode.SUBTRACT)
        with Locations((-56.721168, 167.296179)):
            Rectangle(F0_W_2, F0_H_2, mode=Mode.SUBTRACT)
        with Locations((-46.121168, 156.696179)):
            Rectangle(F0_W_2, F0_H_2, mode=Mode.SUBTRACT)
        with Locations((-46.121168, 167.296179)):
            Rectangle(F0_W_2, F0_H_2, mode=Mode.SUBTRACT)
        with Locations((-35.521168, 135.496179)):
            Rectangle(F0_W_2, F0_H_2, mode=Mode.SUBTRACT)
        with Locations((-35.521168, 146.096179)):
            Rectangle(F0_W_2, F0_H_2, mode=Mode.SUBTRACT)
        with Locations((-35.521168, 156.696179)):
            Rectangle(F0_W_2, F0_H_2, mode=Mode.SUBTRACT)
        with Locations((-35.521168, 167.296179)):
            Rectangle(F0_W_2, F0_H_2, mode=Mode.SUBTRACT)
        with Locations((-77.921168, 177.896179)):
            Rectangle(F0_W_2, F0_H_2)
        with BuildLine():
            ThreePointArc((-70.682528, 174.396179), (-67.398352, 176.787706), (-63.821168, 178.713573))
            Line((-63.821168, 178.713573), (-63.821168, 181.396179))
            Line((-63.821168, 181.396179), (-70.821168, 181.396179))
            Line((-70.821168, 181.396179), (-70.821168, 174.396179))
            Line((-70.821168, 174.396179), (-70.682528, 174.396179))
        make_face()
        with BuildLine():
            ThreePointArc((-78.738562, 163.796179), (-76.812694, 167.373363), (-74.421168, 170.65754))
            Line((-74.421168, 170.65754), (-74.421168, 170.796179))
            Line((-74.421168, 170.796179), (-81.421168, 170.796179))
            Line((-81.421168, 170.796179), (-81.421168, 163.796179))
            Line((-81.421168, 163.796179), (-78.738562, 163.796179))
        make_face()
        with BuildLine():
            Line((-74.421168, 131.996179), (-74.421168, 132.134819))
            ThreePointArc((-74.421168, 132.134819), (-76.812694, 135.418996), (-78.738562, 138.996179))
            Line((-78.738562, 138.996179), (-81.421168, 138.996179))
            Line((-81.421168, 138.996179), (-81.421168, 131.996179))
            Line((-81.421168, 131.996179), (-74.421168, 131.996179))
        make_face()
        with Locations((-77.921168, 124.896179)):
            Rectangle(F0_W_2, F0_H_2)
        with Locations((-77.921168, 114.296179)):
            Rectangle(F0_W_2, F0_H_2)
        with BuildLine():
            Line((-63.821168, 121.396179), (-63.821168, 124.078786))
            ThreePointArc((-63.821168, 124.078786), (-67.398352, 126.004653), (-70.682528, 128.396179))
            Line((-70.682528, 128.396179), (-70.821168, 128.396179))
            Line((-70.821168, 128.396179), (-70.821168, 121.396179))
            Line((-70.821168, 121.396179), (-63.821168, 121.396179))
        make_face()
        with Locations((-67.321168, 114.296179)):
            Rectangle(F0_W_2, F0_H_2)
        with Locations((-56.721168, 114.296179)):
            Rectangle(F0_W_2, F0_H_2)
        with Locations((-46.121168, 114.296179)):
            Rectangle(F0_W_2, F0_H_2)
        with Locations((-35.521168, 114.296179)):
            Rectangle(F0_W_2, F0_H_2)
        with BuildLine():
            Line((-32.021168, 128.396179), (-32.159807, 128.396179))
            ThreePointArc((-32.159807, 128.396179), (-35.443984, 126.004653), (-39.021168, 124.078786))
            Line((-39.021168, 124.078786), (-39.021168, 121.396179))
            Line((-39.021168, 121.396179), (-32.021168, 121.396179))
            Line((-32.021168, 121.396179), (-32.021168, 128.396179))
        make_face()
        with Locations((-24.921168, 124.896179)):
            Rectangle(F0_W_2, F0_H_2)
        with Locations((-24.921168, 114.296179)):
            Rectangle(F0_W_2, F0_H_2)
        with Locations((-14.321168, 114.296179)):
            Rectangle(F0_W_2, F0_H_2)
        with Locations((-14.321168, 124.896179)):
            Rectangle(F0_W_2, F0_H_2)
        with Locations((-14.321168, 135.496179)):
            Rectangle(F0_W_2, F0_H_2)
        with BuildLine():
            Line((-21.421168, 138.996179), (-24.103774, 138.996179))
            ThreePointArc((-24.103774, 138.996179), (-26.029642, 135.418996), (-28.421168, 132.134819))
            Line((-28.421168, 132.134819), (-28.421168, 131.996179))
            Line((-28.421168, 131.996179), (-21.421168, 131.996179))
            Line((-21.421168, 131.996179), (-21.421168, 138.996179))
        make_face()
        with Locations((-14.321168, 146.096179)):
            Rectangle(F0_W_2, F0_H_2)
        with Locations((-14.321168, 156.696179)):
            Rectangle(F0_W_2, F0_H_2)
        with Locations((-14.321168, 167.296179)):
            Rectangle(F0_W_2, F0_H_2)
        with BuildLine():
            ThreePointArc((-28.421168, 170.65754), (-26.029642, 167.373363), (-24.103774, 163.796179))
            Line((-24.103774, 163.796179), (-21.421168, 163.796179))
            Line((-21.421168, 163.796179), (-21.421168, 170.796179))
            Line((-21.421168, 170.796179), (-28.421168, 170.796179))
            Line((-28.421168, 170.796179), (-28.421168, 170.65754))
        make_face()
        with Locations((-14.321168, 177.896179)):
            Rectangle(F0_W_2, F0_H_2)
        with Locations((-24.921168, 177.896179)):
            Rectangle(F0_W_2, F0_H_2)
        with BuildLine():
            ThreePointArc((-39.021168, 178.713573), (-35.443984, 176.787706), (-32.159807, 174.396179))
            Line((-32.159807, 174.396179), (-32.021168, 174.396179))
            Line((-32.021168, 174.396179), (-32.021168, 181.396179))
            Line((-32.021168, 181.396179), (-39.021168, 181.396179))
            Line((-39.021168, 181.396179), (-39.021168, 178.713573))
        make_face()
        with BuildLine():
            ThreePointArc((-60.221168, 180.076486), (-56.758814, 180.91752), (-53.221168, 181.342131))
            Line((-53.221168, 181.342131), (-53.221168, 181.396179))
            Line((-53.221168, 181.396179), (-60.221168, 181.396179))
            Line((-60.221168, 181.396179), (-60.221168, 180.076486))
        make_face()
        with BuildLine():
            ThreePointArc((-49.621168, 181.342131), (-46.083522, 180.91752), (-42.621168, 180.076486))
            Line((-42.621168, 180.076486), (-42.621168, 181.396179))
            Line((-42.621168, 181.396179), (-49.621168, 181.396179))
            Line((-49.621168, 181.396179), (-49.621168, 181.342131))
        make_face()
        with BuildLine():
            ThreePointArc((-22.740861, 160.196179), (-21.899827, 156.733825), (-21.475216, 153.196179))
            Line((-21.475216, 153.196179), (-21.421168, 153.196179))
            Line((-21.421168, 153.196179), (-21.421168, 160.196179))
            Line((-21.421168, 160.196179), (-22.740861, 160.196179))
        make_face()
        with BuildLine():
            Line((-21.421168, 149.596179), (-21.475216, 149.596179))
            ThreePointArc((-21.475216, 149.596179), (-21.899827, 146.058534), (-22.740861, 142.596179))
            Line((-22.740861, 142.596179), (-21.421168, 142.596179))
            Line((-21.421168, 142.596179), (-21.421168, 149.596179))
        make_face()
        with BuildLine():
            ThreePointArc((-81.367119, 153.196179), (-80.942508, 156.733825), (-80.101475, 160.196179))
            Line((-80.101475, 160.196179), (-81.421168, 160.196179))
            Line((-81.421168, 160.196179), (-81.421168, 153.196179))
            Line((-81.421168, 153.196179), (-81.367119, 153.196179))
        make_face()
        with BuildLine():
            Line((-81.421168, 142.596179), (-80.101475, 142.596179))
            ThreePointArc((-80.101475, 142.596179), (-80.942508, 146.058534), (-81.367119, 149.596179))
            Line((-81.367119, 149.596179), (-81.421168, 149.596179))
            Line((-81.421168, 149.596179), (-81.421168, 142.596179))
        make_face()
        with BuildLine():
            Line((-53.221168, 121.396179), (-53.221168, 121.450228))
            ThreePointArc((-53.221168, 121.450228), (-56.758814, 121.874839), (-60.221168, 122.715873))
            Line((-60.221168, 122.715873), (-60.221168, 121.396179))
            Line((-60.221168, 121.396179), (-53.221168, 121.396179))
        make_face()
        with BuildLine():
            Line((-42.621168, 121.396179), (-42.621168, 122.715873))
            ThreePointArc((-42.621168, 122.715873), (-46.083522, 121.874839), (-49.621168, 121.450228))
            Line((-49.621168, 121.450228), (-49.621168, 121.396179))
            Line((-49.621168, 121.396179), (-42.621168, 121.396179))
        make_face()
    extrude(amount=F1_DEPTH)


solid = f1.part
